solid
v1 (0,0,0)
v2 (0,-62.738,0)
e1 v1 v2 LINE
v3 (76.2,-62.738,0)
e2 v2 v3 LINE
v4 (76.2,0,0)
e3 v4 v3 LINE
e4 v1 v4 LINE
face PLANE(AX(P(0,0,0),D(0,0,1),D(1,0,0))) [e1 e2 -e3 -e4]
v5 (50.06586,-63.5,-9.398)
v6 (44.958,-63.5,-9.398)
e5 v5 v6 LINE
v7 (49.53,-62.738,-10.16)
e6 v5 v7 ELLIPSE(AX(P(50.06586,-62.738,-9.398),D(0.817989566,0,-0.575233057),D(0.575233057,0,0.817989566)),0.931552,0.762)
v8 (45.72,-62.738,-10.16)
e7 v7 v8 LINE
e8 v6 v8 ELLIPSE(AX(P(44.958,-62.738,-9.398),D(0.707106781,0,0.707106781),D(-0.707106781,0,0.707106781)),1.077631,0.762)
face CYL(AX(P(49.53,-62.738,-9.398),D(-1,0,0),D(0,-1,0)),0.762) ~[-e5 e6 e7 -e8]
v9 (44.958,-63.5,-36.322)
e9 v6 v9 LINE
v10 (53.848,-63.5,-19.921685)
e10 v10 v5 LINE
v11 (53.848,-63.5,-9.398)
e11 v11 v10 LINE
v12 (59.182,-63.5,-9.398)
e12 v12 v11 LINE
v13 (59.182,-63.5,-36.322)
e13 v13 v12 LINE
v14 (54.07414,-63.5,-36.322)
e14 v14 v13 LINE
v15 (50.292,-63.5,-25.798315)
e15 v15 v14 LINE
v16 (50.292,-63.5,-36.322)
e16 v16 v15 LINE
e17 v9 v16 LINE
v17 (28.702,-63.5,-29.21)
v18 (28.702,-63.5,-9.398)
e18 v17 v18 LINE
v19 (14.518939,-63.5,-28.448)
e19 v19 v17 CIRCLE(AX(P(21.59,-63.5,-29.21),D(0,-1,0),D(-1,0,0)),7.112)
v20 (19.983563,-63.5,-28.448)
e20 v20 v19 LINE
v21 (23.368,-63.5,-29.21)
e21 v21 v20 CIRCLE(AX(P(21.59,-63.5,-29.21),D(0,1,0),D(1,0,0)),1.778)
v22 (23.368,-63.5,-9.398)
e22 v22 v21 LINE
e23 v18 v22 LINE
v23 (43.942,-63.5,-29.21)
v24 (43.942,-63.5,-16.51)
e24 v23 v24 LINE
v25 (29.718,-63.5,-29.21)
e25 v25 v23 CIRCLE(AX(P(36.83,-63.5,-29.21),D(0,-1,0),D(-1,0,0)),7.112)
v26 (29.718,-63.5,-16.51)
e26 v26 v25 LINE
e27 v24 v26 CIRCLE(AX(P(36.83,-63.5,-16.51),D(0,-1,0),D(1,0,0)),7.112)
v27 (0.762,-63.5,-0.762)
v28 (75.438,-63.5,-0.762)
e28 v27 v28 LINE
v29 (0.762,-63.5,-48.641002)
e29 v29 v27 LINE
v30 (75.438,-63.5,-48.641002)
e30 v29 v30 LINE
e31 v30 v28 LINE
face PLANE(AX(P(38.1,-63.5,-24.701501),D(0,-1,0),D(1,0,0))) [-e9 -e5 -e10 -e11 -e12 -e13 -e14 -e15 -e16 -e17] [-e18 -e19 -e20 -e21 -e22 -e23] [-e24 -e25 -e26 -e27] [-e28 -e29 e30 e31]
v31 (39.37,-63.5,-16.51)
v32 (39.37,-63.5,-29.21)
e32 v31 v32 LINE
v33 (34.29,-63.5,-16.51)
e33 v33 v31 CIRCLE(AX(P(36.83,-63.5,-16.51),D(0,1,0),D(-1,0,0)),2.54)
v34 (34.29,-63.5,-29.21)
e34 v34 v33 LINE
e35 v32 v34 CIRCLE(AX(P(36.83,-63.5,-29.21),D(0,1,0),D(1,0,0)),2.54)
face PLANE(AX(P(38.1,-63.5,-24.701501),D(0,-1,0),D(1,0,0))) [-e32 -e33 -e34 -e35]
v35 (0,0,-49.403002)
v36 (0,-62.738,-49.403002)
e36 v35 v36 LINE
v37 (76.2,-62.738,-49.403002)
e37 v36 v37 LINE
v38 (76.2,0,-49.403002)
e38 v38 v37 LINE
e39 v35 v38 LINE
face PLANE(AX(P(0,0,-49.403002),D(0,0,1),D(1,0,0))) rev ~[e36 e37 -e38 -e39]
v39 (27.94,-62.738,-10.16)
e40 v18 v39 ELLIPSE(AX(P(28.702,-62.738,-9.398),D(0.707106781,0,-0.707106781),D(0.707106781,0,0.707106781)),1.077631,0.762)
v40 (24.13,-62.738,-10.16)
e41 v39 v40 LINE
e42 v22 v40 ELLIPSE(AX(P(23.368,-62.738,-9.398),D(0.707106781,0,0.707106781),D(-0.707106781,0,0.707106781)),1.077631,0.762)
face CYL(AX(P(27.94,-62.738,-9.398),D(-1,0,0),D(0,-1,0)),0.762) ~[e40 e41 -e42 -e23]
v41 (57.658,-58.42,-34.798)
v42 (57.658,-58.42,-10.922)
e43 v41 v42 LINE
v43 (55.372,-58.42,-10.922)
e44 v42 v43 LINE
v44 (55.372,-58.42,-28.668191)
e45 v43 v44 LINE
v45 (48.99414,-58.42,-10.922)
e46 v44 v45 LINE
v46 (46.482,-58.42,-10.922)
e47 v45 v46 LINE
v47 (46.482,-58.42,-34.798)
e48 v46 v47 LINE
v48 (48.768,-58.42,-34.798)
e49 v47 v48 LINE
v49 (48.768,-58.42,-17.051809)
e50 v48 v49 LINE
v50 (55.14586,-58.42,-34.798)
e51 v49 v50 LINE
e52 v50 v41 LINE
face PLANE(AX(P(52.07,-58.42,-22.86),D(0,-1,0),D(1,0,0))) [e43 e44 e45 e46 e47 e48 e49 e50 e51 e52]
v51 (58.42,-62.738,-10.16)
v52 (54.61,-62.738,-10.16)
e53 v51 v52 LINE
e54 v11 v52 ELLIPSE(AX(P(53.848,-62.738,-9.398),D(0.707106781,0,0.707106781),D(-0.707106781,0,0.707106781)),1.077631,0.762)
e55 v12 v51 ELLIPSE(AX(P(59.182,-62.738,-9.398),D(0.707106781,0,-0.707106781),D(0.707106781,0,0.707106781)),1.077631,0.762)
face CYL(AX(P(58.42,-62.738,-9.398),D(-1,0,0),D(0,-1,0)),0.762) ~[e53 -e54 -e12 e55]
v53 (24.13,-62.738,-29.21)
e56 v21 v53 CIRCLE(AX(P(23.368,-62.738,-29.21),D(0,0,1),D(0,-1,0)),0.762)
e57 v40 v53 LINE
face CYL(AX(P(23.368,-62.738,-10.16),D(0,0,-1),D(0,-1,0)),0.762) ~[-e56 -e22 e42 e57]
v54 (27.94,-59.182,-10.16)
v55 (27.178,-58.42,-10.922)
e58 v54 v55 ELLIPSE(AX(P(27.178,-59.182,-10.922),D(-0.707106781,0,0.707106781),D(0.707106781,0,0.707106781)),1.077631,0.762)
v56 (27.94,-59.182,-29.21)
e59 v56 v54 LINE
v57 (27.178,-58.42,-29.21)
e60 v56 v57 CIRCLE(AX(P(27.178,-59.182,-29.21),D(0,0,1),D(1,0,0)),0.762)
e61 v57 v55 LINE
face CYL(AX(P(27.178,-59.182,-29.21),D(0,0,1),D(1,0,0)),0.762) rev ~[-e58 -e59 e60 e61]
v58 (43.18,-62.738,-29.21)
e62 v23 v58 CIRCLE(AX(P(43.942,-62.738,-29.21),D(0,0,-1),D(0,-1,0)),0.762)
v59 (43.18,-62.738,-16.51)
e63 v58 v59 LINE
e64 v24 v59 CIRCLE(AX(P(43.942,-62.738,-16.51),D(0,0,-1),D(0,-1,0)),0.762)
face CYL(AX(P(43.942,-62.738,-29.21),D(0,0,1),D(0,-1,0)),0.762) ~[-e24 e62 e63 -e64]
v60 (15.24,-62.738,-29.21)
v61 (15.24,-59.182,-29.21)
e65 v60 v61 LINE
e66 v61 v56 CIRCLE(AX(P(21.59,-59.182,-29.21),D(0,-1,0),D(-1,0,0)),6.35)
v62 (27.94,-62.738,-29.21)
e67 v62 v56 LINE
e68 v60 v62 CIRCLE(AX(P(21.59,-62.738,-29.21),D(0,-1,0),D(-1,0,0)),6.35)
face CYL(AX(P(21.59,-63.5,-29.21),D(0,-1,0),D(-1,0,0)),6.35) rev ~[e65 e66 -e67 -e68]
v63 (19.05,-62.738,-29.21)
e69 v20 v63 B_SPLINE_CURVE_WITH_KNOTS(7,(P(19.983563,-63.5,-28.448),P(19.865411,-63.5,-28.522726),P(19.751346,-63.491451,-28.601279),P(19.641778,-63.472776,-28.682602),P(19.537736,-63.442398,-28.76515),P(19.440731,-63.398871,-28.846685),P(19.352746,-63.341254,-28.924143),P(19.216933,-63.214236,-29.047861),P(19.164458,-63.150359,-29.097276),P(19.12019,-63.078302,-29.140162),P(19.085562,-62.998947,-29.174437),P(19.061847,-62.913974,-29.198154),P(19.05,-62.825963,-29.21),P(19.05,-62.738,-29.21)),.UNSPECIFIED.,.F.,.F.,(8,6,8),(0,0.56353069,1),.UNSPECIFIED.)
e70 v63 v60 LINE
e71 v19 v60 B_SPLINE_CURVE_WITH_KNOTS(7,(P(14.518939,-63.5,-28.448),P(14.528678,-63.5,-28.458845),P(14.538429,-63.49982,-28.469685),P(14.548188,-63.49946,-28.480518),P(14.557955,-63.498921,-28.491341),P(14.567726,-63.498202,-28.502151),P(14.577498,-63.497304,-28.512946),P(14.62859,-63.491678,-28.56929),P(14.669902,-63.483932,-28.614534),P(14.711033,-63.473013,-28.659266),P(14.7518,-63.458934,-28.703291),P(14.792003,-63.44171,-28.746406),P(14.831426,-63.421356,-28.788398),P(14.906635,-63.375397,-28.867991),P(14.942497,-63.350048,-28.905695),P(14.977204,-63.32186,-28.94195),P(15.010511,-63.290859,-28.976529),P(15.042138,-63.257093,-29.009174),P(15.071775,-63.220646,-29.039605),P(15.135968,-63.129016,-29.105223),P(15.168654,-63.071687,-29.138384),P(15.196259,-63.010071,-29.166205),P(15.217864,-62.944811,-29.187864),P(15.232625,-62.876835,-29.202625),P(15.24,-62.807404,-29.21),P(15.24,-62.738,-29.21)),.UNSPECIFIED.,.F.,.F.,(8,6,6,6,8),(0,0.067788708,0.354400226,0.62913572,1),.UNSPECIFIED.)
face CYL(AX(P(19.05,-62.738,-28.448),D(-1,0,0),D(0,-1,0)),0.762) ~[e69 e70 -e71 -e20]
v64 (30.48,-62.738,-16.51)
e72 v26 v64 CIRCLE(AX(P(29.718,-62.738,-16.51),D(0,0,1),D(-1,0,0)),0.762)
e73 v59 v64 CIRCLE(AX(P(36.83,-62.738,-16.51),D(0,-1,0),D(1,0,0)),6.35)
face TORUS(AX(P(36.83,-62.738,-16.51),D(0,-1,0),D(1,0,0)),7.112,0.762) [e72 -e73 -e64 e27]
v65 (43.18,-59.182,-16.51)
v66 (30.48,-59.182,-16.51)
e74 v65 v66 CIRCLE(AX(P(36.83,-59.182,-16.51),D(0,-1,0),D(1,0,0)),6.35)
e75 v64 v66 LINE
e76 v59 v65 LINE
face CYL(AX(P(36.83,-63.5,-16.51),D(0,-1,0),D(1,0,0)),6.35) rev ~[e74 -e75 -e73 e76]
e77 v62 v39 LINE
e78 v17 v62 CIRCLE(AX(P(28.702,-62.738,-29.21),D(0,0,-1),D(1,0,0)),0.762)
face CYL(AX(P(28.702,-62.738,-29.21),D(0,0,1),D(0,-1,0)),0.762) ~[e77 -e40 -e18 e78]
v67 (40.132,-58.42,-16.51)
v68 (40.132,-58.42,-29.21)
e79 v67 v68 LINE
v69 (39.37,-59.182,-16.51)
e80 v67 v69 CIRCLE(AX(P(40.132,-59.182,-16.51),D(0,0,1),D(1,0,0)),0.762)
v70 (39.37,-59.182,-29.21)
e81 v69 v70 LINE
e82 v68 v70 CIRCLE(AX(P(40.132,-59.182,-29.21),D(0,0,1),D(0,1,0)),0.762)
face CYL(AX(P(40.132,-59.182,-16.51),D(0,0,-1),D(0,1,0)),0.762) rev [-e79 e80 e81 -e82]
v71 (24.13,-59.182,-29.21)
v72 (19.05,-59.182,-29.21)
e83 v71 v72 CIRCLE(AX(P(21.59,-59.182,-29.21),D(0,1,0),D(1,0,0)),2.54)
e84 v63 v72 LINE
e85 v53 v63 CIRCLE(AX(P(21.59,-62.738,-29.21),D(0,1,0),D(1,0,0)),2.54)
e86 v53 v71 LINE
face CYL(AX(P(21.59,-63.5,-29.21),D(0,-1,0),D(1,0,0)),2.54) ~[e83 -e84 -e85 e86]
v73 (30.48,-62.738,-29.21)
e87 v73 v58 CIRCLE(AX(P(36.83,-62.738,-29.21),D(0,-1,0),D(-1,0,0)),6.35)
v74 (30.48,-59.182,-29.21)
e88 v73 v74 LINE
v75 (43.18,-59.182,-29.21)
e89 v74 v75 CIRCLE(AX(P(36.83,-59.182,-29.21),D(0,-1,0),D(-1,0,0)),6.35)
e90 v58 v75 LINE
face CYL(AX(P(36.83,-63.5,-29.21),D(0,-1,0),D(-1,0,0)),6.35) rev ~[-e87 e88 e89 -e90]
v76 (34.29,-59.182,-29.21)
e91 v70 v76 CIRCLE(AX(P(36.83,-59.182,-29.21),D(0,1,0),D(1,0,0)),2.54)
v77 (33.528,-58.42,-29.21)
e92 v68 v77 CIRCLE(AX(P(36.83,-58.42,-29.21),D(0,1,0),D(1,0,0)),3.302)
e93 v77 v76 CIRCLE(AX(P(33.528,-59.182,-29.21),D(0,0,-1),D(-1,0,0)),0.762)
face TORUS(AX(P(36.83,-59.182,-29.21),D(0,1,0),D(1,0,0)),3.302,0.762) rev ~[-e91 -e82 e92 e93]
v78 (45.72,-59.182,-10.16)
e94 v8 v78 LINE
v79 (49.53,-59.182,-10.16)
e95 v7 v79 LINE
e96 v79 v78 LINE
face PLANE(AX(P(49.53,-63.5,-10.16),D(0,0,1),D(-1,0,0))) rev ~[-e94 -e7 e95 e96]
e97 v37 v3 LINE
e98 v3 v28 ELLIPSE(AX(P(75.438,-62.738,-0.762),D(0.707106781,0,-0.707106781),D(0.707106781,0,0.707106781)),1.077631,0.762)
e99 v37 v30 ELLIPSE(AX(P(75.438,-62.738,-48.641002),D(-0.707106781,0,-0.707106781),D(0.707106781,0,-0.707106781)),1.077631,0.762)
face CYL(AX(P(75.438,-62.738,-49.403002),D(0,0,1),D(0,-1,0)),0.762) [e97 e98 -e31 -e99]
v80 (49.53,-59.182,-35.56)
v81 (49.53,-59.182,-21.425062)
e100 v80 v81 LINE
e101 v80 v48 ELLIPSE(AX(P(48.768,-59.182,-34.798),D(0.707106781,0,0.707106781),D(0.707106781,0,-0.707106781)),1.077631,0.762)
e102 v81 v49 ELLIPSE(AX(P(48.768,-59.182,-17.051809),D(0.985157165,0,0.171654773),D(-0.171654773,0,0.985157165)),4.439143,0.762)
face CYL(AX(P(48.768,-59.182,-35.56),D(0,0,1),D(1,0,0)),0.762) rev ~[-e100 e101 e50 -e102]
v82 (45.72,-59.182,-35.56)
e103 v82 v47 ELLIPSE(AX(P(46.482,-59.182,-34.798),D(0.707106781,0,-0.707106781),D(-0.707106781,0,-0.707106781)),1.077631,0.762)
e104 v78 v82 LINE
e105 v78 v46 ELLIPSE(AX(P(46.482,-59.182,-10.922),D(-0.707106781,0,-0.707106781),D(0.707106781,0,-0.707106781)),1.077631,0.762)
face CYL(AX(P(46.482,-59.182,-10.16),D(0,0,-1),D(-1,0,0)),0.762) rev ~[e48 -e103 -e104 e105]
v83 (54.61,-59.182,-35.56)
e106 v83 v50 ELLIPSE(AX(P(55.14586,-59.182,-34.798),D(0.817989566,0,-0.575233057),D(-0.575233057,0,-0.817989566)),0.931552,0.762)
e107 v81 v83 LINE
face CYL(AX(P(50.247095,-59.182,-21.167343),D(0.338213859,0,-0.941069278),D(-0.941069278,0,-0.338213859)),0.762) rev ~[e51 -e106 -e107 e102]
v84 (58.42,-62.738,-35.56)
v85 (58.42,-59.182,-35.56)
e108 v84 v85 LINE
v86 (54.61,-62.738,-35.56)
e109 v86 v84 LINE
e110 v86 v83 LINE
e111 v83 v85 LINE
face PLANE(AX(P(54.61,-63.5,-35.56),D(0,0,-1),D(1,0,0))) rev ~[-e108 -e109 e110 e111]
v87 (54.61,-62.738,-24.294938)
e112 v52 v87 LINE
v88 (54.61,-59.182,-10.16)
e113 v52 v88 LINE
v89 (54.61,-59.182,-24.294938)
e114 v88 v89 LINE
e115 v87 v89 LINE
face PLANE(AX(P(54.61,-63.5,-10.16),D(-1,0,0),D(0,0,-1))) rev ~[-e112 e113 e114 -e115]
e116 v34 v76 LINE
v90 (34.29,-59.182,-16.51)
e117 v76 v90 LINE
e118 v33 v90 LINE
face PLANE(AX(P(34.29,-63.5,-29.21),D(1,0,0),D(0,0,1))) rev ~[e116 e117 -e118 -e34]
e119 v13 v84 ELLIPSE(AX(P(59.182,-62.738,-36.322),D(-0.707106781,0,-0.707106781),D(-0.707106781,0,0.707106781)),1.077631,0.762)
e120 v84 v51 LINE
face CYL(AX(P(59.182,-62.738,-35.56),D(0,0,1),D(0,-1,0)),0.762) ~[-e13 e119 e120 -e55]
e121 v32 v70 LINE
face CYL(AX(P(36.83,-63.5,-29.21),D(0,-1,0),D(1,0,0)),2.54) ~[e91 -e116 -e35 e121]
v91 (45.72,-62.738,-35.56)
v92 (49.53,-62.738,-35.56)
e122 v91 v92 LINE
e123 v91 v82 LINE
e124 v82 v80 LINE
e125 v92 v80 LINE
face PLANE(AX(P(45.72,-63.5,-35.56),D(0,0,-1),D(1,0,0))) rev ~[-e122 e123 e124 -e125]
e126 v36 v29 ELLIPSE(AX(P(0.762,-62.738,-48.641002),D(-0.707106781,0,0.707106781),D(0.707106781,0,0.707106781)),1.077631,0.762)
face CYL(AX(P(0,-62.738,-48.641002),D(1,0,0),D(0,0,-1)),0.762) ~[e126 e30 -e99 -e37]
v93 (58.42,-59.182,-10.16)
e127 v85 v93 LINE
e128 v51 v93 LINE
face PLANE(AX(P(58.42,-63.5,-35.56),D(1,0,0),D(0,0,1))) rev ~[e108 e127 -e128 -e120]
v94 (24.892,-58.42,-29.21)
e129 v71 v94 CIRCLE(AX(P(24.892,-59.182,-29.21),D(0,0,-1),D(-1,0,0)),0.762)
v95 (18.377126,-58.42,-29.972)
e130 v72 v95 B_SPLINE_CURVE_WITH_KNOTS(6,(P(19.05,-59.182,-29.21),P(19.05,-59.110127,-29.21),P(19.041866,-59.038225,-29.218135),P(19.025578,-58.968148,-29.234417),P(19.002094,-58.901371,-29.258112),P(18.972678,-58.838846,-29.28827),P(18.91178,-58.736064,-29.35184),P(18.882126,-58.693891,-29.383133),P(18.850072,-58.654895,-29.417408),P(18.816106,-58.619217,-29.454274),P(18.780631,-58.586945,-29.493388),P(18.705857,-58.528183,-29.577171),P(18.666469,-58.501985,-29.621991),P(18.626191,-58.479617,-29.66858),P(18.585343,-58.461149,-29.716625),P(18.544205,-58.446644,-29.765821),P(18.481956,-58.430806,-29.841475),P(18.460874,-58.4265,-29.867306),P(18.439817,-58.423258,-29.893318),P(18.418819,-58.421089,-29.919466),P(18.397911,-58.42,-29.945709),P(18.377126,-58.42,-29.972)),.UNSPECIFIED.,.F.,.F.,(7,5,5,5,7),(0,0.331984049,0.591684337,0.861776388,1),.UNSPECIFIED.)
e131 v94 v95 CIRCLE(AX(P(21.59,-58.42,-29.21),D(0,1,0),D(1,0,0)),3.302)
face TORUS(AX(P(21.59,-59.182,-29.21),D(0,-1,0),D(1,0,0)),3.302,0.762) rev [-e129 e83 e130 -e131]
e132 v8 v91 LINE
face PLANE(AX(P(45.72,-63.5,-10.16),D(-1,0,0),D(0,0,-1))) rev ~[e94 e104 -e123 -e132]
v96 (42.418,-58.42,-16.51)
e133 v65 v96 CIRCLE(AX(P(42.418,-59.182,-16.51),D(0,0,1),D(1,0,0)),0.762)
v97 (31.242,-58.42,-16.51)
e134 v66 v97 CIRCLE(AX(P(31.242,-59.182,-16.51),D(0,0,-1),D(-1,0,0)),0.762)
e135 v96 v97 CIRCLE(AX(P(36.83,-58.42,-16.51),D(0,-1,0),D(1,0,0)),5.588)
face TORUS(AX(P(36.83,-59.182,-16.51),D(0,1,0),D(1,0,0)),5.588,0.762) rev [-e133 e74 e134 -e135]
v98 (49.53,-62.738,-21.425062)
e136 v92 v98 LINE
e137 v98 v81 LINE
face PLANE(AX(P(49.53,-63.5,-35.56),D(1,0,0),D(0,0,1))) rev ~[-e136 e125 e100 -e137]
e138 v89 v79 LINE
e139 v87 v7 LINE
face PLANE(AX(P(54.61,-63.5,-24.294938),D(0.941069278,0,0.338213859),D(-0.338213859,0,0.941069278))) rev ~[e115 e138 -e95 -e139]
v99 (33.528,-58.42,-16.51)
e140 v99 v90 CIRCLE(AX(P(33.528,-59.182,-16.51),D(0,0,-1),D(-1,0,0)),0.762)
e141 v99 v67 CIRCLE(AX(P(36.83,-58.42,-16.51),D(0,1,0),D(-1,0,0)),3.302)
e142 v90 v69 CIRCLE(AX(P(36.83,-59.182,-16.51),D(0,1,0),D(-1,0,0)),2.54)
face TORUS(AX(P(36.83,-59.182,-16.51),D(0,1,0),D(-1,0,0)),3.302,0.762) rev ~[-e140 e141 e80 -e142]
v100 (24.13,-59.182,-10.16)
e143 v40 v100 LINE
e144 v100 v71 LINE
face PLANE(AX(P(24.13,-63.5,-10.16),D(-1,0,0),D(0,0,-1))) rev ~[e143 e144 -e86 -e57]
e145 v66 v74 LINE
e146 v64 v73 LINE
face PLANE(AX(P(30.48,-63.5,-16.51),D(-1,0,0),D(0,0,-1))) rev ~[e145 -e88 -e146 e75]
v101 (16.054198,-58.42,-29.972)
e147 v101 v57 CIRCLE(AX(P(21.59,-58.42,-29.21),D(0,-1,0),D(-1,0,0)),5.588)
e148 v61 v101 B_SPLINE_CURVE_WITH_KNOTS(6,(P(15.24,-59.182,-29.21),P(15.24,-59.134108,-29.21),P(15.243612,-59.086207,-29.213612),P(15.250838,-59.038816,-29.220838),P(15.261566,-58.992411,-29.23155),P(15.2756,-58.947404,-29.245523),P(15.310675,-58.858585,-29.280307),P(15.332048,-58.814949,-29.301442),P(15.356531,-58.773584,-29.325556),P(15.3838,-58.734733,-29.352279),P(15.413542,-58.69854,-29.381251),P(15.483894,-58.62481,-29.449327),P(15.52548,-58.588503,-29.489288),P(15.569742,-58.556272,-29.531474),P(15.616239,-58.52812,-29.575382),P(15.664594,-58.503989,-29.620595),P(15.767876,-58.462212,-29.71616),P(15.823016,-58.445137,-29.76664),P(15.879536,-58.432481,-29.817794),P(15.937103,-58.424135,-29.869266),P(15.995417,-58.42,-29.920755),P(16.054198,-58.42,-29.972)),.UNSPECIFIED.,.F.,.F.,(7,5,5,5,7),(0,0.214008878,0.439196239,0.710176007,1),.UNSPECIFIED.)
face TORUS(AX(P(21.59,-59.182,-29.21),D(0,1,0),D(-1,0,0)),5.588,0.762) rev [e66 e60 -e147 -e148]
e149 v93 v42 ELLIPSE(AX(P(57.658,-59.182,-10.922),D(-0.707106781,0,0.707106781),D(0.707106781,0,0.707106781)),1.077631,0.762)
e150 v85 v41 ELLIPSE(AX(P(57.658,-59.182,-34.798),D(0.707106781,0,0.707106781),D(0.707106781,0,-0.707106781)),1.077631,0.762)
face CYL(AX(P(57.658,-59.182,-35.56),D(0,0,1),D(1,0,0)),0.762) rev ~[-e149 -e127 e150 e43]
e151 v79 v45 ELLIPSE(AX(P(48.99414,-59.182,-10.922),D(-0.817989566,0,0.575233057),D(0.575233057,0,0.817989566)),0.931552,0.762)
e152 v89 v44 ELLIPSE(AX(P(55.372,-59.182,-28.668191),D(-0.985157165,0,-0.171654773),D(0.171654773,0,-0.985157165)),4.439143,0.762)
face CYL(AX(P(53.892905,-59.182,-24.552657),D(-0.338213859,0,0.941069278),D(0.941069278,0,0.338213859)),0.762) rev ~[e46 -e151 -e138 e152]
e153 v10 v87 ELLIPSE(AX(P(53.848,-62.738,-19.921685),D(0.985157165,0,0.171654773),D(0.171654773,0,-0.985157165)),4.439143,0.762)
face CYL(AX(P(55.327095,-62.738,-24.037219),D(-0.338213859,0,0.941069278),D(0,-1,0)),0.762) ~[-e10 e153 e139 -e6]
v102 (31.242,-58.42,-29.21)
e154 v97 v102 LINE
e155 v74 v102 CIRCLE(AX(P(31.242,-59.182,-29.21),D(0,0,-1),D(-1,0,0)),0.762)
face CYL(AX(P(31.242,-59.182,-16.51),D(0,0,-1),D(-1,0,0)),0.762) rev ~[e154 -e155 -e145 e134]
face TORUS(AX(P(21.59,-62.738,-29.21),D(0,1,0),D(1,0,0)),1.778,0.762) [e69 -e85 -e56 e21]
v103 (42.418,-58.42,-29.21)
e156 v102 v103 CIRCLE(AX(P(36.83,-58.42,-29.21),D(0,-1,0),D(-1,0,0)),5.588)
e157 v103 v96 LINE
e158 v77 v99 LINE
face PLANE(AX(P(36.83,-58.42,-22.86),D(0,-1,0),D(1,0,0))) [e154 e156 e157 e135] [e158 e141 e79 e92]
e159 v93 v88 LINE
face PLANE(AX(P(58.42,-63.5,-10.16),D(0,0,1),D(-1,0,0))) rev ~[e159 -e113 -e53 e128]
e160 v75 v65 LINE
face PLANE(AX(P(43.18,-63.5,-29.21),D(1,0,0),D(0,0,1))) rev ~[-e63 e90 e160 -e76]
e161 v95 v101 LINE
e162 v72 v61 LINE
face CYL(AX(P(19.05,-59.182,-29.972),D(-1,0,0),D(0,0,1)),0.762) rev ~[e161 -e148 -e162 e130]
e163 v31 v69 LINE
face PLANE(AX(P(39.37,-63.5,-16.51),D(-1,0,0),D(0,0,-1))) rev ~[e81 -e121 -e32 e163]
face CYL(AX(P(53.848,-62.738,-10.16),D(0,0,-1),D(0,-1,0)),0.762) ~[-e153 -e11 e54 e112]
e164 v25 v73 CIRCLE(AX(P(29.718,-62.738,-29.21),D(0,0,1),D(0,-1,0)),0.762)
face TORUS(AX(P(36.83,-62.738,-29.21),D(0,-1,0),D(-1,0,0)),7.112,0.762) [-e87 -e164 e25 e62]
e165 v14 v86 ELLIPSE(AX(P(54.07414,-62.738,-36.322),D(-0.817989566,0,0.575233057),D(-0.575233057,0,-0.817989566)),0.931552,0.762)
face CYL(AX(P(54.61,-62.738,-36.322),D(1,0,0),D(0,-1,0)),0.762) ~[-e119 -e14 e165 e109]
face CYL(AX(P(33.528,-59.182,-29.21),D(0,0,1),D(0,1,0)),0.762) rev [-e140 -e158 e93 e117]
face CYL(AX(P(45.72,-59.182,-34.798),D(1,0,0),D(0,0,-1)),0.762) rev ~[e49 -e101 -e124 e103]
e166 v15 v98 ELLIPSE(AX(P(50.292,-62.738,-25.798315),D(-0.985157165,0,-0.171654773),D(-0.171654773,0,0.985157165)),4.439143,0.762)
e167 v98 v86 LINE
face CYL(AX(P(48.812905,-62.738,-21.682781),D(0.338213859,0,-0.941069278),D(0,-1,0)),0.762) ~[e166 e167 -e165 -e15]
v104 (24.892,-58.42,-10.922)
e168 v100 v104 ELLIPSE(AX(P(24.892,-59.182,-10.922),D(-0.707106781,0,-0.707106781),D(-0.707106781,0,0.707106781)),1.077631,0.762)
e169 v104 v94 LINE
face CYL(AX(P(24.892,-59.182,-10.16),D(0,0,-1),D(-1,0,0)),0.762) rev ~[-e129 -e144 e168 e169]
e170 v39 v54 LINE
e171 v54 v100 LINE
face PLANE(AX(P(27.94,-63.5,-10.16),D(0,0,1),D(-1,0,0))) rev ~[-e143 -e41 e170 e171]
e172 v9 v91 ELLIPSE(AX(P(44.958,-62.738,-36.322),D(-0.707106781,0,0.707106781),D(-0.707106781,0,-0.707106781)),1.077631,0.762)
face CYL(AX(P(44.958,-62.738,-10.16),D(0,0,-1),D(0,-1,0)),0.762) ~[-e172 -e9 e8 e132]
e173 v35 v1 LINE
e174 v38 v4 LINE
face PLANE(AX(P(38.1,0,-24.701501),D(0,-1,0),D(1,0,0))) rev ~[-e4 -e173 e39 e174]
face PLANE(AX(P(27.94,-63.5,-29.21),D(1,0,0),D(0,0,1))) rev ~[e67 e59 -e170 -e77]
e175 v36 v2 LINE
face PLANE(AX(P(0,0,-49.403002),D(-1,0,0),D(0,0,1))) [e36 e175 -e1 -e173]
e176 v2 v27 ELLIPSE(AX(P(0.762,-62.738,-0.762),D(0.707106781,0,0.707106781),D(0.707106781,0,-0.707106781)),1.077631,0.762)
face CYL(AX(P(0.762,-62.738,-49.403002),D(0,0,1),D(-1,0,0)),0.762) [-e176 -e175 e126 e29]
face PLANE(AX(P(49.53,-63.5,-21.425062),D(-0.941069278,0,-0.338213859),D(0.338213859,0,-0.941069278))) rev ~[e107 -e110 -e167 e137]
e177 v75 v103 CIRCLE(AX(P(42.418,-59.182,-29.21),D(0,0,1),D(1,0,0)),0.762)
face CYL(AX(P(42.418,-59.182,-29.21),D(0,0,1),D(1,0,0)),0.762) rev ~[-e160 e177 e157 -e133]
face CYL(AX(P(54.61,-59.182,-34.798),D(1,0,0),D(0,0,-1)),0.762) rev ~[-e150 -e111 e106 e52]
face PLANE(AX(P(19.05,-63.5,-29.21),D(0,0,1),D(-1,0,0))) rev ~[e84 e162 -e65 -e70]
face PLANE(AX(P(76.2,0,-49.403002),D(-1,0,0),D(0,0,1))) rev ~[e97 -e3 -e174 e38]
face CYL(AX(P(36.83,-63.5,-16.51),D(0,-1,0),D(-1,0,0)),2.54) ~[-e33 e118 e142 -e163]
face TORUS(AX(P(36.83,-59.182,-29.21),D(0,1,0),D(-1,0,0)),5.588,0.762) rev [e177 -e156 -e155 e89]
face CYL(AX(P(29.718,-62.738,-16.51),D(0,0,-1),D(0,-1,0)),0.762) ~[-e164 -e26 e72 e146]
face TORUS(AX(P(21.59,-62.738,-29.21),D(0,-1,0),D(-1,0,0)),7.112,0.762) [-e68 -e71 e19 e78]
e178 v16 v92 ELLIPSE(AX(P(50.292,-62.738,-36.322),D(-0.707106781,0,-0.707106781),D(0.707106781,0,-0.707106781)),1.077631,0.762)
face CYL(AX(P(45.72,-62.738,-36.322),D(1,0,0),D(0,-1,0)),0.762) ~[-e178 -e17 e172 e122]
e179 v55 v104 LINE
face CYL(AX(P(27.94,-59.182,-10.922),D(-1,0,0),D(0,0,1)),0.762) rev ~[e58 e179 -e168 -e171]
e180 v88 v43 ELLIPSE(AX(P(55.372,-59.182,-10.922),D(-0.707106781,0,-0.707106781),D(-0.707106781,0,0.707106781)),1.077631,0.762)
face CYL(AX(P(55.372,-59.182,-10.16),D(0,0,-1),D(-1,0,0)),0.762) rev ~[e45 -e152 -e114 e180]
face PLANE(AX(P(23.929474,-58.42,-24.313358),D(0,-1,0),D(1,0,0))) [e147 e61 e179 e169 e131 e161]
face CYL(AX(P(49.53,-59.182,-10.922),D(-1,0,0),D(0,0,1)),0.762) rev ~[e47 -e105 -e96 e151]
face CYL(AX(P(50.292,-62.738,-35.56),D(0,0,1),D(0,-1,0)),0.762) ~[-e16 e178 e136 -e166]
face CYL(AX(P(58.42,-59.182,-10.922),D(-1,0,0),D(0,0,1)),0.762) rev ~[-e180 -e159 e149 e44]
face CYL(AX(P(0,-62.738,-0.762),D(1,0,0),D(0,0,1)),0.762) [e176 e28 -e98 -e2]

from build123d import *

# Parameters (mm, degrees)
F0_W     = 76.2
F0_H     = 49.403003
F1_DEPTH = 63.5
F3_DEPTH = 5.08
F4_R     = 0.762


with BuildPart() as f1:
    # F0 (on Front) → F1 (new body)
    with BuildSketch(Plane.XZ):
        with Locations((38.1, -24.701501)):
            Rectangle(F0_W, F0_H)
    extrude(amount=F1_DEPTH)

    # F2 (on face) → F3 (cut)
    with BuildSketch(Plane.XZ.offset(63.5)):
        with BuildLine():
            Line((27.94, -10.16), (24.13, -10.16))
            Line((24.13, -10.16), (24.13, -29.21))
            ThreePointArc((24.13, -29.21), (21.59, -31.75), (19.05, -29.21))
            Line((19.05, -29.21), (15.24, -29.21))
            ThreePointArc((15.24, -29.21), (21.59, -35.56), (27.94, -29.21))
            Line((27.94, -29.21), (27.94, -10.16))
        make_face()
        with BuildLine():
            Line((43.18, -29.21), (43.18, -16.51))
            ThreePointArc((43.18, -16.51), (36.83, -10.16), (30.48, -16.51))
            Line((30.48, -16.51), (30.48, -29.21))
            ThreePointArc((30.48, -29.21), (36.83, -35.56), (43.18, -29.21))
        make_face()
        with BuildLine():
            ThreePointArc((34.29, -16.51), (36.83, -13.97), (39.37, -16.51))
            Line((39.37, -16.51), (39.37, -29.21))
            ThreePointArc((39.37, -29.21), (36.83, -31.75), (34.29, -29.21))
            Line((34.29, -29.21), (34.29, -16.51))
        make_face(mode=Mode.SUBTRACT)
        Polygon((45.72, -10.16), (45.72, -35.56), (49.53, -35.56), (49.53, -21.425062), (54.61, -35.56), (58.42, -35.56), (58.42, -10.16), (54.61, -10.16), (54.61, -24.294938), (49.53, -10.16), align=None)
    extrude(amount=-F3_DEPTH, mode=Mode.SUBTRACT)

    # F4
    f4_edges = [f1.edges().sort_by_distance(p)[0] for p in [
        (38.1, -63.5, 0),
        (0, -63.5, -24.701501),
        (38.1, -63.5, -49.403003),
        (76.2, -63.5, -24.701501),
        (58.42, -63.5, -22.86),
        (56.515, -63.5, -10.16),
        (54.61, -63.5, -17.227469),
        (52.07, -63.5, -17.227469),
        (47.625, -63.5, -10.16),
        (45.72, -63.5, -22.86),
        (47.625, -63.5, -35.56),
        (49.53, -63.5, -28.492531),
        (52.07, -63.5, -28.492531),
        (56.515, -63.5, -35.56),
        (43.18, -63.5, -22.86),
        (36.83, -63.5, -10.16),
        (30.48, -63.5, -22.86),
        (36.83, -63.5, -35.56),
        (27.94, -63.5, -19.685),
        (26.035, -63.5, -10.16),
        (24.13, -63.5, -19.685),
        (21.59, -63.5, -31.75),
        (17.145, -63.5, -29.21),
        (21.59, -63.5, -35.56),
        (43.18, -58.42, -22.86),
        (36.83, -58.42, -10.16),
        (30.48, -58.42, -22.86),
        (36.83, -58.42, -35.56),
        (36.83, -58.42, -13.97),
        (39.37, -58.42, -22.86),
        (36.83, -58.42, -31.75),
        (34.29, -58.42, -22.86),
        (45.72, -58.42, -22.86),
        (47.625, -58.42, -35.56),
        (49.53, -58.42, -28.492531),
        (52.07, -58.42, -28.492531),
        (56.515, -58.42, -35.56),
        (58.42, -58.42, -22.86),
        (56.515, -58.42, -10.16),
        (54.61, -58.42, -17.227469),
        (52.07, -58.42, -17.227469),
        (47.625, -58.42, -10.16),
        (27.94, -58.42, -19.685),
        (26.035, -58.42, -10.16),
        (24.13, -58.42, -19.685),
        (21.59, -58.42, -31.75),
        (17.145, -58.42, -29.21),
        (21.59, -58.42, -35.56),
    ]]
    fillet(f4_edges, radius=F4_R)


solid = f1.part
